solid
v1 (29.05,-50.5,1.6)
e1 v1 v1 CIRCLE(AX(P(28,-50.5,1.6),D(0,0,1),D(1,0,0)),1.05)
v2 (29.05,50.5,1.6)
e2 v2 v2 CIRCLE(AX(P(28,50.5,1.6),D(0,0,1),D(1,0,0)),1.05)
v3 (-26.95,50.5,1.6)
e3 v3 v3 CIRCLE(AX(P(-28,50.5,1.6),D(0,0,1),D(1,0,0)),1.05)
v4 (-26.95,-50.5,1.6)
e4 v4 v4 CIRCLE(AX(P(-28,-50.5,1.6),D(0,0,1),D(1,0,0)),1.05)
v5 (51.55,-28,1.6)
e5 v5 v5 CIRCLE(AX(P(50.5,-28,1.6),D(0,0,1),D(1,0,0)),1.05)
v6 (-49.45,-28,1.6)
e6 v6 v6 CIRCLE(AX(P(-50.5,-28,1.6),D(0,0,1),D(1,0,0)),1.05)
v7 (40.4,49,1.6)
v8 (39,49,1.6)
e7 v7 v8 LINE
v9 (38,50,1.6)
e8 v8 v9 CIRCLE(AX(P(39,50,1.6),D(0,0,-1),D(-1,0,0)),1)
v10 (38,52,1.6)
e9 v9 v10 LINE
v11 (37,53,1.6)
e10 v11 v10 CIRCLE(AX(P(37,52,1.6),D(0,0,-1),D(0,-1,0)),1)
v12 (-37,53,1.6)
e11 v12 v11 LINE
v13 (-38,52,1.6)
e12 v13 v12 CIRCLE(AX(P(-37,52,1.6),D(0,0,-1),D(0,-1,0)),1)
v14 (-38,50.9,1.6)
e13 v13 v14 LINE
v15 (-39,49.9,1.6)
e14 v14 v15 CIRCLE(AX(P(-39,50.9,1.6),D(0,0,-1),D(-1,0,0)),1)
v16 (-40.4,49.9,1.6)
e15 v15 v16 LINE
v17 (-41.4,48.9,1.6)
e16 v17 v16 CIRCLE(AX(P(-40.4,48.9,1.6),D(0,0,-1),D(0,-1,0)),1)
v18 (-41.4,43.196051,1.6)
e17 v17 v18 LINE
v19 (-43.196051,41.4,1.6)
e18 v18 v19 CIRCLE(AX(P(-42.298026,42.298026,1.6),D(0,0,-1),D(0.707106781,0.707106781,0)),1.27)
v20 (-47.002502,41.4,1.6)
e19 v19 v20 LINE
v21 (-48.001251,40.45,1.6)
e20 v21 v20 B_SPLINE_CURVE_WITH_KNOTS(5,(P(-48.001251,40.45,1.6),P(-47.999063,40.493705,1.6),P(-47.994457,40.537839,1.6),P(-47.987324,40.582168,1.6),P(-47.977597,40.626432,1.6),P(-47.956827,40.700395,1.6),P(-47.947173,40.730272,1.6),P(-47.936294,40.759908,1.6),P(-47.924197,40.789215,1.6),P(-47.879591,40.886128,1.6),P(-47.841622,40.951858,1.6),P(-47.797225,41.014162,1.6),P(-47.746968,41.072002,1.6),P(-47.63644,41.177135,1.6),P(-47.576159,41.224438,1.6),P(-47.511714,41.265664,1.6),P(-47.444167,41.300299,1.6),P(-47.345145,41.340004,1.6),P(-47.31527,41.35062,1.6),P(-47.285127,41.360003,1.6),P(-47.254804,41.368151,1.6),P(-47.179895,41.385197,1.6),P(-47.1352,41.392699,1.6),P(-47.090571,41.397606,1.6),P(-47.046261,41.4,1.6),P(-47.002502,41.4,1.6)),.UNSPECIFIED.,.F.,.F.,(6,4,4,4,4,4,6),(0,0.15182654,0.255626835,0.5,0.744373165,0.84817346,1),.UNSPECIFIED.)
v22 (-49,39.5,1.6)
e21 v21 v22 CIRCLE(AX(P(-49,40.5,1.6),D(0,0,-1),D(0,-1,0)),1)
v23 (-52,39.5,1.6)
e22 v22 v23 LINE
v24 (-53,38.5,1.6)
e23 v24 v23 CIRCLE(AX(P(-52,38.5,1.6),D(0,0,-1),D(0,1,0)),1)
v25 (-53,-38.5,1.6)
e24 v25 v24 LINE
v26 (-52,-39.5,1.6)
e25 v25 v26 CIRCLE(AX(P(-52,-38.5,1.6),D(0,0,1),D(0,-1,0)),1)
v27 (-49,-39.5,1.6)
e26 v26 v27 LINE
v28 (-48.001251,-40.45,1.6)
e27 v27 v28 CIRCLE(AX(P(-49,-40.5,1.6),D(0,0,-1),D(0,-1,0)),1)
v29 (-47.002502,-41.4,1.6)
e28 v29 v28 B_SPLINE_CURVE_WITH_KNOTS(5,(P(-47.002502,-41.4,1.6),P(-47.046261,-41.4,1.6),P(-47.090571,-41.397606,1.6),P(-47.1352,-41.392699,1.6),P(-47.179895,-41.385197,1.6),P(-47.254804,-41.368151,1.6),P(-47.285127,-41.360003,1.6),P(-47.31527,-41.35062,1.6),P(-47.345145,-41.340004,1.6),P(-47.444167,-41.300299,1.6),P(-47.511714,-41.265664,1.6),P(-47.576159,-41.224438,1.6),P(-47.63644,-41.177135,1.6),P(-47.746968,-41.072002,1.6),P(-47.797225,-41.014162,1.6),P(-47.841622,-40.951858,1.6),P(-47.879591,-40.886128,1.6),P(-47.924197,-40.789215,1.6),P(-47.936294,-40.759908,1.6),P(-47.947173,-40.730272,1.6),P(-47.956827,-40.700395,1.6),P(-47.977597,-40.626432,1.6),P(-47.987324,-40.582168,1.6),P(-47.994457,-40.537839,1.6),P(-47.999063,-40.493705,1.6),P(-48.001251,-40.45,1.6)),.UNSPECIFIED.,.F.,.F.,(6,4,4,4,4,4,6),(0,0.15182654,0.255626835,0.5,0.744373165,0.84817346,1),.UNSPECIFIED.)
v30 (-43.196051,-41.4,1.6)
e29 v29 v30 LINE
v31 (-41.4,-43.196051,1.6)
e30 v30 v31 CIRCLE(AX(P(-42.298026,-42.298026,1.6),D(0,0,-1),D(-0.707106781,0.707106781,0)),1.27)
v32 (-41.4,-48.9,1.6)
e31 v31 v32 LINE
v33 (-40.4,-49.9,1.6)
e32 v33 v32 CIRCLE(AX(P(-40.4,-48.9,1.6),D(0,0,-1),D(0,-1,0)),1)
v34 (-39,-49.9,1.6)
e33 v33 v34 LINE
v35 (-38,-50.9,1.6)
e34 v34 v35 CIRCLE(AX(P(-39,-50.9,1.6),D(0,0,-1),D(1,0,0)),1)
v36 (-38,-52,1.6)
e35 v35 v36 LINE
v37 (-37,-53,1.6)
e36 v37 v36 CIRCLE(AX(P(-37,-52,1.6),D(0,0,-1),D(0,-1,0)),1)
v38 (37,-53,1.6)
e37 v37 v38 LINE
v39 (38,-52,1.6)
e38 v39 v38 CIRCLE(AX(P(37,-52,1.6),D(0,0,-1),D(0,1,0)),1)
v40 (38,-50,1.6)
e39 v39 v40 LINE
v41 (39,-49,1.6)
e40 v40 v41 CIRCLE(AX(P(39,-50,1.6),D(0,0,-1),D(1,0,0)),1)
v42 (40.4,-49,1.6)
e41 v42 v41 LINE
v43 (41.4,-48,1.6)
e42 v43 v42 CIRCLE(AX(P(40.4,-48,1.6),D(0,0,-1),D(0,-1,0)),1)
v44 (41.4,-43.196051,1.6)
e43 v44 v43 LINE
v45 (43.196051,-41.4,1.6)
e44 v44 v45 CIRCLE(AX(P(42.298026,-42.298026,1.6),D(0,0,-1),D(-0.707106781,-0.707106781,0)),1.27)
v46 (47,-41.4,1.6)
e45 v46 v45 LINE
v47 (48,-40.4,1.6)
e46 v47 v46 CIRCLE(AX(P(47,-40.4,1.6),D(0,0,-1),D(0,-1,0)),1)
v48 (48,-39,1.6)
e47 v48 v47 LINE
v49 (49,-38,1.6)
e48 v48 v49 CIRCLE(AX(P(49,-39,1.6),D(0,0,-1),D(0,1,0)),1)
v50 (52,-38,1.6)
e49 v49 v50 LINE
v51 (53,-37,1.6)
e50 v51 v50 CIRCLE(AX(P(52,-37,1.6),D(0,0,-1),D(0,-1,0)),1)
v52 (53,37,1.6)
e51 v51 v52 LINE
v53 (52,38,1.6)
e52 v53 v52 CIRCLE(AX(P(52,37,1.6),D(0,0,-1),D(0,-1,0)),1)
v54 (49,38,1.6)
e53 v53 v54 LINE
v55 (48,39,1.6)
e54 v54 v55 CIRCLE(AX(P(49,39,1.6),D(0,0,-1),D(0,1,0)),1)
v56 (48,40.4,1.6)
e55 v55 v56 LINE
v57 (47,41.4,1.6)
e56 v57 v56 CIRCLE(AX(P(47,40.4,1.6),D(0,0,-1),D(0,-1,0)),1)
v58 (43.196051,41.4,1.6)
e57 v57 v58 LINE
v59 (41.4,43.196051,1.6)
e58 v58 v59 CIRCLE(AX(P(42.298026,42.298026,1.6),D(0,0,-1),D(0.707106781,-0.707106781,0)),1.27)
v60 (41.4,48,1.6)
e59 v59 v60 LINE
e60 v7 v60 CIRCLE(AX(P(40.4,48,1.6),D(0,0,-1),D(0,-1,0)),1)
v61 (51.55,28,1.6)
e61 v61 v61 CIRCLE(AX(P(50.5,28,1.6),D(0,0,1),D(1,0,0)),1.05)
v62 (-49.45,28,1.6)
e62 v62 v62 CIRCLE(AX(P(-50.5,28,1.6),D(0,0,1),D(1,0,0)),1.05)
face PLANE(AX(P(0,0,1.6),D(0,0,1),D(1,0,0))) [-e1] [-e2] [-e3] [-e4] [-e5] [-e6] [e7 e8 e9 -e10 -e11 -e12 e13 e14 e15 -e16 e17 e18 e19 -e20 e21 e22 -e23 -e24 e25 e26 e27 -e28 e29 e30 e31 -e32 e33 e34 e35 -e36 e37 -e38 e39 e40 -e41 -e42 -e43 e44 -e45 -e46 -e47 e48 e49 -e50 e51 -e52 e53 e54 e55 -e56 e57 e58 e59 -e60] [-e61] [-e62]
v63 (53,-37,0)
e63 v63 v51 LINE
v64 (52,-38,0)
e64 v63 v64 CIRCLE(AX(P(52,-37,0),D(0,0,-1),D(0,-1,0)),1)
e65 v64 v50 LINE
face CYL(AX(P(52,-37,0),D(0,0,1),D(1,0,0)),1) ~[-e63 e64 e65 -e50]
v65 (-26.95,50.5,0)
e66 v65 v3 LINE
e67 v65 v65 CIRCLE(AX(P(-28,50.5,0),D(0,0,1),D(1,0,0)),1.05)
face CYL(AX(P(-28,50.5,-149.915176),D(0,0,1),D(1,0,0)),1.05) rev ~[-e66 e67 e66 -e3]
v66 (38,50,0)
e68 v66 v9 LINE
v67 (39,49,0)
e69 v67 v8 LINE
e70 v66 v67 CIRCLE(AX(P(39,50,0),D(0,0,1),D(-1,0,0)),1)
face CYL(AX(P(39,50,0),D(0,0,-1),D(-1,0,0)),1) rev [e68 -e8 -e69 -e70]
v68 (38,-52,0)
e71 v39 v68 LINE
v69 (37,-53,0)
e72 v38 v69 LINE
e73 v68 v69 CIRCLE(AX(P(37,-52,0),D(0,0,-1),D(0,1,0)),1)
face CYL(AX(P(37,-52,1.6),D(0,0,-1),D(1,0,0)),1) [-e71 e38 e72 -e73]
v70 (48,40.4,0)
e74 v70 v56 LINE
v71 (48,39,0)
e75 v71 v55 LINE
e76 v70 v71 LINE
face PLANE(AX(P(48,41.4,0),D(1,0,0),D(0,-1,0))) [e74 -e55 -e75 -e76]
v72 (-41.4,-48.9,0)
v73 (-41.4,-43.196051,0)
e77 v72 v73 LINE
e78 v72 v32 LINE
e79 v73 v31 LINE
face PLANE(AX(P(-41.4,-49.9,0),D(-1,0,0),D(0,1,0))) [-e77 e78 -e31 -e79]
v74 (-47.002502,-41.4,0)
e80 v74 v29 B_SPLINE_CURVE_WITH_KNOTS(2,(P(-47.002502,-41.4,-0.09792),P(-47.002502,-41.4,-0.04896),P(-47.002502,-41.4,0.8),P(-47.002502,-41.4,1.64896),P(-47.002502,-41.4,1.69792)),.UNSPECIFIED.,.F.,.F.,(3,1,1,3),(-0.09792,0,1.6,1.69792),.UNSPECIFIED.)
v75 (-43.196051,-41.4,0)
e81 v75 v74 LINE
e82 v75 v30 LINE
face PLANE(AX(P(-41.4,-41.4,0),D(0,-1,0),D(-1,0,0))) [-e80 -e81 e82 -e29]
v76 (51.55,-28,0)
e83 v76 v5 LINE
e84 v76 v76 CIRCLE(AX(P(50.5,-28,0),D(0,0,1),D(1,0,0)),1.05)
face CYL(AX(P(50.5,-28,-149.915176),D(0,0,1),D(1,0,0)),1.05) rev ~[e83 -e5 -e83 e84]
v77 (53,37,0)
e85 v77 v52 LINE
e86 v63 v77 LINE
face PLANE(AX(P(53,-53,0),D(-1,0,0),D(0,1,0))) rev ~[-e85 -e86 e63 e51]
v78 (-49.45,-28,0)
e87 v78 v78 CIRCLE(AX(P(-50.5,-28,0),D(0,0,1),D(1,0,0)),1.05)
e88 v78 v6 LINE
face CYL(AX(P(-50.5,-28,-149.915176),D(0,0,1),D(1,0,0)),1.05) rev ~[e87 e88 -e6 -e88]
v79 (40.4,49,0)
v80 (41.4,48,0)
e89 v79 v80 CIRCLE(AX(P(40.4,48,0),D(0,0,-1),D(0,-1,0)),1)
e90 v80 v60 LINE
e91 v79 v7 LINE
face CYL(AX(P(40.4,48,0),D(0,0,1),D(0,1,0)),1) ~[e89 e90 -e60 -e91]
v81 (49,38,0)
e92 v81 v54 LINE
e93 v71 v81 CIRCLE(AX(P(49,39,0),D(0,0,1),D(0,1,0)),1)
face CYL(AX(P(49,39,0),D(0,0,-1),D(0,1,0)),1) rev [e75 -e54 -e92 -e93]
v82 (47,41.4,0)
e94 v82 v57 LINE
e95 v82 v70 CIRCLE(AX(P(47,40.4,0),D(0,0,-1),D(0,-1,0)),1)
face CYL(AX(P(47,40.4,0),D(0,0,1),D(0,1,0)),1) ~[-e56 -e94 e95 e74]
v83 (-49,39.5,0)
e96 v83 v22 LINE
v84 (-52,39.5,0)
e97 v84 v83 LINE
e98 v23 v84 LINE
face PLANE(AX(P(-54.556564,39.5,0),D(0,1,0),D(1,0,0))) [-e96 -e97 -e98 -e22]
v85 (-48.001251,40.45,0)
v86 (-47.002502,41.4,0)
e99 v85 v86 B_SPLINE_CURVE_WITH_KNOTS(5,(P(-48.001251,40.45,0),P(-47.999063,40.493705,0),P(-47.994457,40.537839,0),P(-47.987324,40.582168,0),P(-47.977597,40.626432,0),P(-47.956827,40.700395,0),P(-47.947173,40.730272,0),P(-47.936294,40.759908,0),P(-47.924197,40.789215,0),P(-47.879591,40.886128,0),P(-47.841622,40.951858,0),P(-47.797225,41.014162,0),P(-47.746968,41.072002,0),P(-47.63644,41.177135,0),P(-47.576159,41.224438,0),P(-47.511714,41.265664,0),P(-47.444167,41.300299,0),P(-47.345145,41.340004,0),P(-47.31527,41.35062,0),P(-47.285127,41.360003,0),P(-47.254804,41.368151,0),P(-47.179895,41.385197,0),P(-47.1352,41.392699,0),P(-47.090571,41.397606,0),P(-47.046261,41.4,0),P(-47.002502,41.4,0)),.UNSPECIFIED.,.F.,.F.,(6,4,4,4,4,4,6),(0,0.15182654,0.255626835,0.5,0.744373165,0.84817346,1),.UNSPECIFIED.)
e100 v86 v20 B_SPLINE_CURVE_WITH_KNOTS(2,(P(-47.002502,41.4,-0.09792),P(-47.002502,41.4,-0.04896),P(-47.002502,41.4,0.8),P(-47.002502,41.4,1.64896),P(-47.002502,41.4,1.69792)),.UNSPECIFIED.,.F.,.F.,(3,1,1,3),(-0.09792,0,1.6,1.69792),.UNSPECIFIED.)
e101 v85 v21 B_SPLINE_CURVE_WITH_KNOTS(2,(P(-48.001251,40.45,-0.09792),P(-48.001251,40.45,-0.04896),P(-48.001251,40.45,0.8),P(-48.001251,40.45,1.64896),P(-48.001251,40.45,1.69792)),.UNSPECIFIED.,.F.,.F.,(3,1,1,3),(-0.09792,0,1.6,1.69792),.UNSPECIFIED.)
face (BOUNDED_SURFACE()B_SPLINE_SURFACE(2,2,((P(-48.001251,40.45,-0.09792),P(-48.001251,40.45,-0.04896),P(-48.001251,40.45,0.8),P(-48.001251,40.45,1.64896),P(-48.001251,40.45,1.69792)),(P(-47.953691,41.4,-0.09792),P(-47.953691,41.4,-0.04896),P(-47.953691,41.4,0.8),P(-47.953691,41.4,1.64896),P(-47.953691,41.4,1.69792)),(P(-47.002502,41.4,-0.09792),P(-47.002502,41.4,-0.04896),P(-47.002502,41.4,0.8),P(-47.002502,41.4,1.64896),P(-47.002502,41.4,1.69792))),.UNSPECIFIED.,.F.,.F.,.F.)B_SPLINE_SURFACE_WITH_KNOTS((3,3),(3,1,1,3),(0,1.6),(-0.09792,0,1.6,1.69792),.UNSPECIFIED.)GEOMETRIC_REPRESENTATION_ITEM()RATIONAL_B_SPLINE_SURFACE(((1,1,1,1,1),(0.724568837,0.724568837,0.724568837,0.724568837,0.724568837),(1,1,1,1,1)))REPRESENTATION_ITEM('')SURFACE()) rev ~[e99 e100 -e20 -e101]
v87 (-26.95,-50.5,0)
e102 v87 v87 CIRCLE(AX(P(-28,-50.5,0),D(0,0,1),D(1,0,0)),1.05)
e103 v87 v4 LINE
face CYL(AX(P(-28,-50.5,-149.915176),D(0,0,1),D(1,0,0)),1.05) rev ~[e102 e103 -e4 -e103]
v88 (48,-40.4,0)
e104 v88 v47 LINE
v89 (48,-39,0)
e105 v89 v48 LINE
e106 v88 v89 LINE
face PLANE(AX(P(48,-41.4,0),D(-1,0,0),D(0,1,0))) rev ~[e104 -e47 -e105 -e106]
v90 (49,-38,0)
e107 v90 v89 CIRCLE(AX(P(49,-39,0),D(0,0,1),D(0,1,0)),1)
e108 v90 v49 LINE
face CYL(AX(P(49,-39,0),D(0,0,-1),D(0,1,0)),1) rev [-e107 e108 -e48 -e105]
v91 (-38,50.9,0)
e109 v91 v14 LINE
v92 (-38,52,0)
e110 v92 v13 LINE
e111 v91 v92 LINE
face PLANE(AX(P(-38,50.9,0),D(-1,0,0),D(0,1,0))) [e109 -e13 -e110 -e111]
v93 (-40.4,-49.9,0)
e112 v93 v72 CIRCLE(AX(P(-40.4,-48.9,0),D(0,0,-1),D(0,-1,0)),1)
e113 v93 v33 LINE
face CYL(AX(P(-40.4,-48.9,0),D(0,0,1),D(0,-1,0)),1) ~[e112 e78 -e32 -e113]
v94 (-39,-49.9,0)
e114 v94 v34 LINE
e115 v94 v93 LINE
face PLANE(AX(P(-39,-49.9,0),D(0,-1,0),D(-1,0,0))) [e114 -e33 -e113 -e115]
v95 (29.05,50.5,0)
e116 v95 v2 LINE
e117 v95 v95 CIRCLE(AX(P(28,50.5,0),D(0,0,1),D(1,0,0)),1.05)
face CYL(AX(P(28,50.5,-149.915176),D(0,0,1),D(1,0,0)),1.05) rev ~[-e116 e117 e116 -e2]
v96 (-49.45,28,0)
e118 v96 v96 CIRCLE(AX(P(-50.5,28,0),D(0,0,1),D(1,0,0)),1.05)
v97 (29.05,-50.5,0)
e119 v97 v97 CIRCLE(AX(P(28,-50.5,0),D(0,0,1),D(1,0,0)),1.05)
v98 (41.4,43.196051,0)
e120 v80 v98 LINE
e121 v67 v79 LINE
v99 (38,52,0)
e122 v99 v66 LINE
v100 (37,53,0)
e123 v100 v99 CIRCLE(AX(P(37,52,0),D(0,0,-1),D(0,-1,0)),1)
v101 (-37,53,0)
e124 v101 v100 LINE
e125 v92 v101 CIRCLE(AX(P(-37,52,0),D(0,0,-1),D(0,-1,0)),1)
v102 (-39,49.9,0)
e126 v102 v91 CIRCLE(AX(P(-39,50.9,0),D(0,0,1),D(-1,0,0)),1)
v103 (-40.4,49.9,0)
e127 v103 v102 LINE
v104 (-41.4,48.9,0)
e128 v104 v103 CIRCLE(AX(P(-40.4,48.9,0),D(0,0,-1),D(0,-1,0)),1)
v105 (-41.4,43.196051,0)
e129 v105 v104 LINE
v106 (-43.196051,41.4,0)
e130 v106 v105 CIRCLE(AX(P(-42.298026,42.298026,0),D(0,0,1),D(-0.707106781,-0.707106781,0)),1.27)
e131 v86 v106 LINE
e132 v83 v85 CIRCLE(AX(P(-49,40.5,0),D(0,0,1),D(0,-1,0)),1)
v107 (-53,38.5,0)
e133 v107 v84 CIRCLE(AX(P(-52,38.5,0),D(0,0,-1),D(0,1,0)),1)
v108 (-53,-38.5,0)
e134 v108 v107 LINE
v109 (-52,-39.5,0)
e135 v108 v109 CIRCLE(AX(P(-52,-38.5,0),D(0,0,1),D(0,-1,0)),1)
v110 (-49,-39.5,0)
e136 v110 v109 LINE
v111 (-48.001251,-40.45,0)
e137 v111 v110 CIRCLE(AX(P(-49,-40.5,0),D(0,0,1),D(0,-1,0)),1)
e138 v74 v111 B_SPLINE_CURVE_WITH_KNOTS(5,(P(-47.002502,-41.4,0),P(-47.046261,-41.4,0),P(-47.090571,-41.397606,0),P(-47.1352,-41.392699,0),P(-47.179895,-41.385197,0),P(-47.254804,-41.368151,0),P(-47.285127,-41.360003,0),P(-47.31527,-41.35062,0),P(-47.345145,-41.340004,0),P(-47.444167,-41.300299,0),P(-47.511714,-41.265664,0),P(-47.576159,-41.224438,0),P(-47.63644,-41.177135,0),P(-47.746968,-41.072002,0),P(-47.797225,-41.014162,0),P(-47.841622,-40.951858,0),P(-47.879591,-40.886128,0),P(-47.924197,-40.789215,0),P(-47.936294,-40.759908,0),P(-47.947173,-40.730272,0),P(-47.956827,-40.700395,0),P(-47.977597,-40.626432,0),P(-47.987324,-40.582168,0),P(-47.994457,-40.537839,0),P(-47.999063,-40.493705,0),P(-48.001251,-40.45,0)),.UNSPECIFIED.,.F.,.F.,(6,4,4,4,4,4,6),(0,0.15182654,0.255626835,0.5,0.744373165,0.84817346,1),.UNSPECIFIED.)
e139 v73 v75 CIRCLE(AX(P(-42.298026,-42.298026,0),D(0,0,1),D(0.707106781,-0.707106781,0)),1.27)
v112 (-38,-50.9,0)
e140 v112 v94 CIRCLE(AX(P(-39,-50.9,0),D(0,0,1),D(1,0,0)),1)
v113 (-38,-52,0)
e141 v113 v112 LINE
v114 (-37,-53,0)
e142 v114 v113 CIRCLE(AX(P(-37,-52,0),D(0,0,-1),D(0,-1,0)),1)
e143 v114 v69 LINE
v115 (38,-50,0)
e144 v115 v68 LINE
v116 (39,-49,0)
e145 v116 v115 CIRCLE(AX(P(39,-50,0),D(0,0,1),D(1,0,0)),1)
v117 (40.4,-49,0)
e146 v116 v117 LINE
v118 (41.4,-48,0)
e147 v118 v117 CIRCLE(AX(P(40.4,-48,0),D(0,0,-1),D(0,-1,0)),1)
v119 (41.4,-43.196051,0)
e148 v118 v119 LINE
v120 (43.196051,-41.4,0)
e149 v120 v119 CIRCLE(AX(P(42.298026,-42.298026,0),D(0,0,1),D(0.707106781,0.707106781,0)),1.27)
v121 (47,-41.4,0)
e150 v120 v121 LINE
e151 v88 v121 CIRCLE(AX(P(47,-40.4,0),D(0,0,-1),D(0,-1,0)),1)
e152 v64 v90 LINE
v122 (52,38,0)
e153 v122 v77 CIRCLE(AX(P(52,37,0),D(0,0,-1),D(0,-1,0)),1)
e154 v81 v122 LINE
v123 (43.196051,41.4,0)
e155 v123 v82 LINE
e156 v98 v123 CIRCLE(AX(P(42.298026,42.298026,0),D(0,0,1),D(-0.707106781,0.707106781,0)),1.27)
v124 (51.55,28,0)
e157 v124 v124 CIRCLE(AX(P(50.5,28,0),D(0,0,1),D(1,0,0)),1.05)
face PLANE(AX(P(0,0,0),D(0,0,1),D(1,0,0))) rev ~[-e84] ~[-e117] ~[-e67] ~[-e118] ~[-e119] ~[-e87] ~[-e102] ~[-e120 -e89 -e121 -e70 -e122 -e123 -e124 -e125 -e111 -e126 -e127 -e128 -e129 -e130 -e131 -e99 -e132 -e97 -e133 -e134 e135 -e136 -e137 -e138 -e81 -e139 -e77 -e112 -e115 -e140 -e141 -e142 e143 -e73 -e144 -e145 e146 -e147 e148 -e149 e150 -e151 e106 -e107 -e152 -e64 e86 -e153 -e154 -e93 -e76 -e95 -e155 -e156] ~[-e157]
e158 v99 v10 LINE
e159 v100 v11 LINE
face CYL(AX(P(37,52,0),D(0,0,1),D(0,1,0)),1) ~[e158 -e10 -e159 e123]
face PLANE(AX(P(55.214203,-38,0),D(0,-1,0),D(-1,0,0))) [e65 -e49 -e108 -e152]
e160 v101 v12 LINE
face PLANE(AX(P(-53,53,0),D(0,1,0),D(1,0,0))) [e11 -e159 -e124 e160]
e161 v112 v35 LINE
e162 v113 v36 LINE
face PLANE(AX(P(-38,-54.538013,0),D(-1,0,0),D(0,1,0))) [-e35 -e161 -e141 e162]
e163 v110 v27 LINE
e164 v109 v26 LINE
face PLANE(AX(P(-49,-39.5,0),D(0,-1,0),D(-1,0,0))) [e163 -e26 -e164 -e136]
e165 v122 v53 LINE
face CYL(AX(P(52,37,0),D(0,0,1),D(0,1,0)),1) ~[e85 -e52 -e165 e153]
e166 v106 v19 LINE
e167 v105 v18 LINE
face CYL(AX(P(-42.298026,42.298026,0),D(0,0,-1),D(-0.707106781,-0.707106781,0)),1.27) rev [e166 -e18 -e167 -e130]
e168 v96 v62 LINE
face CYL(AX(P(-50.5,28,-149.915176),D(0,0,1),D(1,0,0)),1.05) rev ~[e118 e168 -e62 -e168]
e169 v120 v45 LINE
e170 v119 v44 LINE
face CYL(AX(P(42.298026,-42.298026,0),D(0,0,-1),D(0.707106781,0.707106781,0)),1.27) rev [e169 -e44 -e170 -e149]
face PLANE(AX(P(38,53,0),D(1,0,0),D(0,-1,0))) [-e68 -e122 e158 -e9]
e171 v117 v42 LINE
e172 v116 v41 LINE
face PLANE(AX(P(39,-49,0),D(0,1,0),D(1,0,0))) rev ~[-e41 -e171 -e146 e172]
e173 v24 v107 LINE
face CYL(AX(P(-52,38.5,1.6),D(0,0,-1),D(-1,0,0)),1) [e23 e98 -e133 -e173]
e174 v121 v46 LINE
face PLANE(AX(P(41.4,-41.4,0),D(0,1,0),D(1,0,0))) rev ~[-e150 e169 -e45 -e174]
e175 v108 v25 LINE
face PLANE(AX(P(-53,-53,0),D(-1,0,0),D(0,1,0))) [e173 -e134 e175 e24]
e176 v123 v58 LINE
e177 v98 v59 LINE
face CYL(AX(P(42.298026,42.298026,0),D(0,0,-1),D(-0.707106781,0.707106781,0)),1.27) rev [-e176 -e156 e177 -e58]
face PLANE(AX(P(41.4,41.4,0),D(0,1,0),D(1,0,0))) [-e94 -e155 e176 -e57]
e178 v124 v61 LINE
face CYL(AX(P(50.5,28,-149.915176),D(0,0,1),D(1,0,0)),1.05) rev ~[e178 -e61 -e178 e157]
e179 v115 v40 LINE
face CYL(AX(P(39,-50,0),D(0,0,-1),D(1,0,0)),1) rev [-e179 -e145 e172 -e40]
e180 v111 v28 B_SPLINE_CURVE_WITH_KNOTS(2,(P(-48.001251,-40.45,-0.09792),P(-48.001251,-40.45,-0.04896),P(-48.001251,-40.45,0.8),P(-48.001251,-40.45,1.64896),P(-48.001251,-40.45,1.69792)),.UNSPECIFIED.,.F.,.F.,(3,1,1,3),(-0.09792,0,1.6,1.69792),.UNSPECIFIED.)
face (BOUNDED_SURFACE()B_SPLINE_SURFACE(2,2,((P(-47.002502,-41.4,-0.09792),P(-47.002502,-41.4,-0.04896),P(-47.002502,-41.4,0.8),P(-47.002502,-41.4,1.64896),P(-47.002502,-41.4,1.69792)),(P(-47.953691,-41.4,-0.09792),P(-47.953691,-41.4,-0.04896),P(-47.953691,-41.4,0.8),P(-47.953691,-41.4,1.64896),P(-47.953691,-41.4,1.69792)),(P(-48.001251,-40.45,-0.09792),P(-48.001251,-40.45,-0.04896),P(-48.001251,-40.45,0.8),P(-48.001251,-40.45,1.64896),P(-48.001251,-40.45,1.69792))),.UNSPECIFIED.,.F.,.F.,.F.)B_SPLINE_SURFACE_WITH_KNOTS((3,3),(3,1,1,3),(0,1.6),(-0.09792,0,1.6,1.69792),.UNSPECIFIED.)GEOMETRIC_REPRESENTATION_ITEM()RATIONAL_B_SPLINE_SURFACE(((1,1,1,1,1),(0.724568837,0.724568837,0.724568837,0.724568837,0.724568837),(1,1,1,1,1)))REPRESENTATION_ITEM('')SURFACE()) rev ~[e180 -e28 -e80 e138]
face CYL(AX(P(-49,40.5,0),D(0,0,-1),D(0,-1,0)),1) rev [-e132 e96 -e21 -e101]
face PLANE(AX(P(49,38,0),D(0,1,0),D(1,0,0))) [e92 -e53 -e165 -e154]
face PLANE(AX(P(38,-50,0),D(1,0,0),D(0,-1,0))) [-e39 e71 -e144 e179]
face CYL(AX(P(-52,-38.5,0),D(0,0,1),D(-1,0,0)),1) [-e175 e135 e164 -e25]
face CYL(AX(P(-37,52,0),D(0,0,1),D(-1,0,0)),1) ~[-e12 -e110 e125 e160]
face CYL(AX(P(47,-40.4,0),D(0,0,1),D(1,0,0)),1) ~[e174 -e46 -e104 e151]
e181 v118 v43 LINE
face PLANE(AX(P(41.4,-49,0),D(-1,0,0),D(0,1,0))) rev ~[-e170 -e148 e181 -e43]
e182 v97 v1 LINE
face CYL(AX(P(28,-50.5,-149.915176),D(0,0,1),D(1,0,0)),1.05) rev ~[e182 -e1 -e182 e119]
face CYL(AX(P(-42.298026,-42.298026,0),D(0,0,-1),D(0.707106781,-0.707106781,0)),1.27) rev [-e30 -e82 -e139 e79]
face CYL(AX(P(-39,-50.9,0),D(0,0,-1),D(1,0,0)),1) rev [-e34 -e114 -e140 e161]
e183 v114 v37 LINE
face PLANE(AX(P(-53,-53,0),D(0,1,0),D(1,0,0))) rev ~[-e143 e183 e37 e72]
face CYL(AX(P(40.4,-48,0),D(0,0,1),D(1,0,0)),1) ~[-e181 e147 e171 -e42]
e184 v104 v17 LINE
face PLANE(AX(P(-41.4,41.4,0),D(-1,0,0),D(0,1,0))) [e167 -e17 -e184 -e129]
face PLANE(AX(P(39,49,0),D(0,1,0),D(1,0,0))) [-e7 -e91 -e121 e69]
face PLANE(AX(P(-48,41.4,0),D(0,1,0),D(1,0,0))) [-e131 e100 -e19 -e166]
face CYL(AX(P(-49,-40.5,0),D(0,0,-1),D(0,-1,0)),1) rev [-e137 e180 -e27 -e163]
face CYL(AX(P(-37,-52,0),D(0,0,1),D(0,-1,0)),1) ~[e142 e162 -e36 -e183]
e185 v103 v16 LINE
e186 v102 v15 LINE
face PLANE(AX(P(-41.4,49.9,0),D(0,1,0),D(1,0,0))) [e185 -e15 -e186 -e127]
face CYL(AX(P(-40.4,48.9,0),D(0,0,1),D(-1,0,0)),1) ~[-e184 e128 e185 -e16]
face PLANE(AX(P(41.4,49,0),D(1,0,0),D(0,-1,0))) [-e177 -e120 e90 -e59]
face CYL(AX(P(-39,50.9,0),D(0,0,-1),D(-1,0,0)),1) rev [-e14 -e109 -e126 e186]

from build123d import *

# Parameters (mm, degrees)
SKETCH1_W            = 106
SKETCH1_H            = 106
MAINOUTLINE_DEPTH    = 1.6
RAILCUTOUTS_DEPTH    = 75.970394157
DOGBONES_DEPTH       = 75.970394157
SOLARFILLETS_DEPTH   = 75.970394157
HANDLINGFILLETS_R    = 1
M2_CLEARANCE_HOLE1_D = 2.1


with BuildPart() as part:
    # Sketch1 → mainOutline (new body)
    with BuildSketch(Plane.XY):
        Rectangle(SKETCH1_W, SKETCH1_H)
    extrude(amount=MAINOUTLINE_DEPTH)

    # Sketch4 → railCutouts (cut, through all)
    with BuildSketch(Plane(origin=(0, 0, 0), x_dir=(-1, 0, 0), z_dir=(0, 0, -1))):
        Polygon((-41.4, -41.4), (-48, -41.4), (-48, -39), (-49.9975, -39), (-60.106513243, -39), (-60.106513243, -61.452099286), (-39, -61.452099286), (-39, -49.9), (-39, -49), (-41.4, -49), align=None)
        Polygon((39, -56.27525328), (39, -49.9), (41.4, -49.9), (41.4, -41.4), (48, -41.4), (48, -40.5), (55.517672261, -40.5), (55.517672261, -56.27525328), align=None)
        Polygon((55.383846757, 40.5), (48, 40.5), (48, 41.4), (41.4, 41.4), (41.4, 49.9), (39, 49.9), (39, 57.687687567), (55.383846757, 57.687687567), align=None)
        Polygon((-39, 59.880423019), (-39, 49.9), (-39, 49), (-41.4, 49), (-41.4, 41.4), (-48, 41.4), (-48, 39), (-49.9975, 39), (-56.842822937, 39), (-56.842822937, 59.880423019), align=None)
    extrude(amount=-RAILCUTOUTS_DEPTH, mode=Mode.SUBTRACT)

    # Sketch5 → dogbones (cut, through all)
    with BuildSketch(Plane(origin=(0, 0, 0), x_dir=(-1, 0, 0), z_dir=(0, 0, -1))):
        with BuildLine():
            Line((-41.4, -43.196051224), (-44.546497129, -46.342548353))
            ThreePointArc((-44.546497129, -46.342548353), (-46.342548353, -46.342548353), (-46.342548353, -44.546497129))
            Line((-46.342548353, -44.546497129), (-43.196051224, -41.4))
            ThreePointArc((-43.196051224, -41.4), (-41.4, -41.4), (-41.4, -43.196051224))
        make_face()
        with BuildLine():
            Line((43.196051224, -41.4), (44.93821772, -43.142166495))
            ThreePointArc((44.93821772, -43.142166495), (44.93821772, -44.93821772), (43.142166495, -44.93821772))
            Line((43.142166495, -44.93821772), (41.4, -43.196051224))
            ThreePointArc((41.4, -43.196051224), (41.4, -41.4), (43.196051224, -41.4))
        make_face()
        with BuildLine():
            Line((41.4, 43.196051224), (43.13099025, 44.927041474))
            ThreePointArc((43.13099025, 44.927041474), (44.927041474, 44.927041474), (44.927041474, 43.13099025))
            Line((44.927041474, 43.13099025), (43.196051224, 41.4))
            ThreePointArc((43.196051224, 41.4), (41.4, 41.4), (41.4, 43.196051224))
        make_face()
        with BuildLine():
            Line((-43.196051224, 41.4), (-44.694846249, 42.898795025))
            ThreePointArc((-44.694846249, 42.898795025), (-44.694846249, 44.694846249), (-42.898795025, 44.694846249))
            Line((-42.898795025, 44.694846249), (-41.4, 43.196051224))
            ThreePointArc((-41.4, 43.196051224), (-41.4, 41.4), (-43.196051224, 41.4))
        make_face()
    extrude(amount=-DOGBONES_DEPTH, mode=Mode.SUBTRACT)

    # Sketch6 → solarFillets (cut, through all)
    with BuildSketch(Plane(origin=(0, 0, 0), x_dir=(-1, 0, 0), z_dir=(0, 0, -1))):
        with BuildLine():
            Line((-40, 50), (-40, 53))
            ThreePointArc((-40, 53), (-39, 54), (-38, 53))
            Line((-38, 53), (-38, 50))
            ThreePointArc((-38, 50), (-39, 49), (-40, 50))
        make_face()
        with BuildLine():
            Line((-49, 38), (-53, 38))
            ThreePointArc((-53, 38), (-54, 39), (-53, 40))
            Line((-53, 40), (-49, 40))
            ThreePointArc((-49, 40), (-48, 39), (-49, 38))
        make_face()
        with BuildLine():
            Line((-49, -40), (-55.214202913, -40))
            ThreePointArc((-55.214202913, -40), (-56.214202913, -39), (-55.214202913, -38))
            Line((-55.214202913, -38), (-49, -38))
            ThreePointArc((-49, -38), (-48, -39), (-49, -40))
        make_face()
        with BuildLine():
            Line((-38, -50), (-38, -53.916094318))
            ThreePointArc((-38, -53.916094318), (-39, -54.916094318), (-40, -53.916094318))
            Line((-40, -53.916094318), (-40, -50))
            ThreePointArc((-40, -50), (-39, -49), (-38, -50))
        make_face()
        with BuildLine():
            Line((40, -50.9), (40, -54.538013421))
            ThreePointArc((40, -54.538013421), (39, -55.538013421), (38, -54.538013421))
            Line((38, -54.538013421), (38, -50.9))
            ThreePointArc((38, -50.9), (39, -49.9), (40, -50.9))
        make_face()
        with BuildLine():
            Line((49, -39.5), (54.202622605, -39.5))
            ThreePointArc((54.202622605, -39.5), (55.202622605, -40.5), (54.202622605, -41.5))
            Line((54.202622605, -41.5), (49, -41.5))
            ThreePointArc((49, -41.5), (48, -40.5), (49, -39.5))
        make_face()
        with BuildLine():
            Line((49, 41.5), (54.556563772, 41.5))
            ThreePointArc((54.556563772, 41.5), (55.556563772, 40.5), (54.556563772, 39.5))
            Line((54.556563772, 39.5), (49, 39.5))
            ThreePointArc((49, 39.5), (48, 40.5), (49, 41.5))
        make_face()
        with BuildLine():
            Line((38, 50.9), (38, 55.828092709))
            ThreePointArc((38, 55.828092709), (39, 56.828092709), (40, 55.828092709))
            Line((40, 55.828092709), (40, 50.9))
            ThreePointArc((40, 50.9), (39, 49.9), (38, 50.9))
        make_face()
    extrude(amount=-SOLARFILLETS_DEPTH, mode=Mode.SUBTRACT)

    # handlingFillets
    handlingfillets_edges = [part.edges().sort_by_distance(p)[0] for p in [
        (-41.4, -49.9, 0.8),
        (-38, -53, 0.8),
        (-53, -39.5, 0.8),
        (-48, -41.4, 0.8),
        (-48, 41.4, 0.8),
        (-53, 39.5, 0.8),
        (-41.4, 49.9, 0.8),
        (-38, 53, 0.8),
        (38, 53, 0.8),
        (41.4, 49, 0.8),
        (48, 41.4, 0.8),
        (53, 38, 0.8),
        (53, -38, 0.8),
        (48, -41.4, 0.8),
        (41.4, -49, 0.8),
        (38, -53, 0.8),
    ]]
    fillet(handlingfillets_edges, radius=HANDLINGFILLETS_R)

    # M2 Clearance Hole1 (through all)
    with Locations(Plane(origin=(0, 0, 0), x_dir=(-1, 0, 0), z_dir=(0, 0, -1))):
        with Locations((50.5, -28), (28, -50.5), (-50.5, -28), (-28, -50.5), (-28, 50.5), (-50.5, 28), (28, 50.5), (50.5, 28)):
            Hole(M2_CLEARANCE_HOLE1_D / 2)


solid = part.part
